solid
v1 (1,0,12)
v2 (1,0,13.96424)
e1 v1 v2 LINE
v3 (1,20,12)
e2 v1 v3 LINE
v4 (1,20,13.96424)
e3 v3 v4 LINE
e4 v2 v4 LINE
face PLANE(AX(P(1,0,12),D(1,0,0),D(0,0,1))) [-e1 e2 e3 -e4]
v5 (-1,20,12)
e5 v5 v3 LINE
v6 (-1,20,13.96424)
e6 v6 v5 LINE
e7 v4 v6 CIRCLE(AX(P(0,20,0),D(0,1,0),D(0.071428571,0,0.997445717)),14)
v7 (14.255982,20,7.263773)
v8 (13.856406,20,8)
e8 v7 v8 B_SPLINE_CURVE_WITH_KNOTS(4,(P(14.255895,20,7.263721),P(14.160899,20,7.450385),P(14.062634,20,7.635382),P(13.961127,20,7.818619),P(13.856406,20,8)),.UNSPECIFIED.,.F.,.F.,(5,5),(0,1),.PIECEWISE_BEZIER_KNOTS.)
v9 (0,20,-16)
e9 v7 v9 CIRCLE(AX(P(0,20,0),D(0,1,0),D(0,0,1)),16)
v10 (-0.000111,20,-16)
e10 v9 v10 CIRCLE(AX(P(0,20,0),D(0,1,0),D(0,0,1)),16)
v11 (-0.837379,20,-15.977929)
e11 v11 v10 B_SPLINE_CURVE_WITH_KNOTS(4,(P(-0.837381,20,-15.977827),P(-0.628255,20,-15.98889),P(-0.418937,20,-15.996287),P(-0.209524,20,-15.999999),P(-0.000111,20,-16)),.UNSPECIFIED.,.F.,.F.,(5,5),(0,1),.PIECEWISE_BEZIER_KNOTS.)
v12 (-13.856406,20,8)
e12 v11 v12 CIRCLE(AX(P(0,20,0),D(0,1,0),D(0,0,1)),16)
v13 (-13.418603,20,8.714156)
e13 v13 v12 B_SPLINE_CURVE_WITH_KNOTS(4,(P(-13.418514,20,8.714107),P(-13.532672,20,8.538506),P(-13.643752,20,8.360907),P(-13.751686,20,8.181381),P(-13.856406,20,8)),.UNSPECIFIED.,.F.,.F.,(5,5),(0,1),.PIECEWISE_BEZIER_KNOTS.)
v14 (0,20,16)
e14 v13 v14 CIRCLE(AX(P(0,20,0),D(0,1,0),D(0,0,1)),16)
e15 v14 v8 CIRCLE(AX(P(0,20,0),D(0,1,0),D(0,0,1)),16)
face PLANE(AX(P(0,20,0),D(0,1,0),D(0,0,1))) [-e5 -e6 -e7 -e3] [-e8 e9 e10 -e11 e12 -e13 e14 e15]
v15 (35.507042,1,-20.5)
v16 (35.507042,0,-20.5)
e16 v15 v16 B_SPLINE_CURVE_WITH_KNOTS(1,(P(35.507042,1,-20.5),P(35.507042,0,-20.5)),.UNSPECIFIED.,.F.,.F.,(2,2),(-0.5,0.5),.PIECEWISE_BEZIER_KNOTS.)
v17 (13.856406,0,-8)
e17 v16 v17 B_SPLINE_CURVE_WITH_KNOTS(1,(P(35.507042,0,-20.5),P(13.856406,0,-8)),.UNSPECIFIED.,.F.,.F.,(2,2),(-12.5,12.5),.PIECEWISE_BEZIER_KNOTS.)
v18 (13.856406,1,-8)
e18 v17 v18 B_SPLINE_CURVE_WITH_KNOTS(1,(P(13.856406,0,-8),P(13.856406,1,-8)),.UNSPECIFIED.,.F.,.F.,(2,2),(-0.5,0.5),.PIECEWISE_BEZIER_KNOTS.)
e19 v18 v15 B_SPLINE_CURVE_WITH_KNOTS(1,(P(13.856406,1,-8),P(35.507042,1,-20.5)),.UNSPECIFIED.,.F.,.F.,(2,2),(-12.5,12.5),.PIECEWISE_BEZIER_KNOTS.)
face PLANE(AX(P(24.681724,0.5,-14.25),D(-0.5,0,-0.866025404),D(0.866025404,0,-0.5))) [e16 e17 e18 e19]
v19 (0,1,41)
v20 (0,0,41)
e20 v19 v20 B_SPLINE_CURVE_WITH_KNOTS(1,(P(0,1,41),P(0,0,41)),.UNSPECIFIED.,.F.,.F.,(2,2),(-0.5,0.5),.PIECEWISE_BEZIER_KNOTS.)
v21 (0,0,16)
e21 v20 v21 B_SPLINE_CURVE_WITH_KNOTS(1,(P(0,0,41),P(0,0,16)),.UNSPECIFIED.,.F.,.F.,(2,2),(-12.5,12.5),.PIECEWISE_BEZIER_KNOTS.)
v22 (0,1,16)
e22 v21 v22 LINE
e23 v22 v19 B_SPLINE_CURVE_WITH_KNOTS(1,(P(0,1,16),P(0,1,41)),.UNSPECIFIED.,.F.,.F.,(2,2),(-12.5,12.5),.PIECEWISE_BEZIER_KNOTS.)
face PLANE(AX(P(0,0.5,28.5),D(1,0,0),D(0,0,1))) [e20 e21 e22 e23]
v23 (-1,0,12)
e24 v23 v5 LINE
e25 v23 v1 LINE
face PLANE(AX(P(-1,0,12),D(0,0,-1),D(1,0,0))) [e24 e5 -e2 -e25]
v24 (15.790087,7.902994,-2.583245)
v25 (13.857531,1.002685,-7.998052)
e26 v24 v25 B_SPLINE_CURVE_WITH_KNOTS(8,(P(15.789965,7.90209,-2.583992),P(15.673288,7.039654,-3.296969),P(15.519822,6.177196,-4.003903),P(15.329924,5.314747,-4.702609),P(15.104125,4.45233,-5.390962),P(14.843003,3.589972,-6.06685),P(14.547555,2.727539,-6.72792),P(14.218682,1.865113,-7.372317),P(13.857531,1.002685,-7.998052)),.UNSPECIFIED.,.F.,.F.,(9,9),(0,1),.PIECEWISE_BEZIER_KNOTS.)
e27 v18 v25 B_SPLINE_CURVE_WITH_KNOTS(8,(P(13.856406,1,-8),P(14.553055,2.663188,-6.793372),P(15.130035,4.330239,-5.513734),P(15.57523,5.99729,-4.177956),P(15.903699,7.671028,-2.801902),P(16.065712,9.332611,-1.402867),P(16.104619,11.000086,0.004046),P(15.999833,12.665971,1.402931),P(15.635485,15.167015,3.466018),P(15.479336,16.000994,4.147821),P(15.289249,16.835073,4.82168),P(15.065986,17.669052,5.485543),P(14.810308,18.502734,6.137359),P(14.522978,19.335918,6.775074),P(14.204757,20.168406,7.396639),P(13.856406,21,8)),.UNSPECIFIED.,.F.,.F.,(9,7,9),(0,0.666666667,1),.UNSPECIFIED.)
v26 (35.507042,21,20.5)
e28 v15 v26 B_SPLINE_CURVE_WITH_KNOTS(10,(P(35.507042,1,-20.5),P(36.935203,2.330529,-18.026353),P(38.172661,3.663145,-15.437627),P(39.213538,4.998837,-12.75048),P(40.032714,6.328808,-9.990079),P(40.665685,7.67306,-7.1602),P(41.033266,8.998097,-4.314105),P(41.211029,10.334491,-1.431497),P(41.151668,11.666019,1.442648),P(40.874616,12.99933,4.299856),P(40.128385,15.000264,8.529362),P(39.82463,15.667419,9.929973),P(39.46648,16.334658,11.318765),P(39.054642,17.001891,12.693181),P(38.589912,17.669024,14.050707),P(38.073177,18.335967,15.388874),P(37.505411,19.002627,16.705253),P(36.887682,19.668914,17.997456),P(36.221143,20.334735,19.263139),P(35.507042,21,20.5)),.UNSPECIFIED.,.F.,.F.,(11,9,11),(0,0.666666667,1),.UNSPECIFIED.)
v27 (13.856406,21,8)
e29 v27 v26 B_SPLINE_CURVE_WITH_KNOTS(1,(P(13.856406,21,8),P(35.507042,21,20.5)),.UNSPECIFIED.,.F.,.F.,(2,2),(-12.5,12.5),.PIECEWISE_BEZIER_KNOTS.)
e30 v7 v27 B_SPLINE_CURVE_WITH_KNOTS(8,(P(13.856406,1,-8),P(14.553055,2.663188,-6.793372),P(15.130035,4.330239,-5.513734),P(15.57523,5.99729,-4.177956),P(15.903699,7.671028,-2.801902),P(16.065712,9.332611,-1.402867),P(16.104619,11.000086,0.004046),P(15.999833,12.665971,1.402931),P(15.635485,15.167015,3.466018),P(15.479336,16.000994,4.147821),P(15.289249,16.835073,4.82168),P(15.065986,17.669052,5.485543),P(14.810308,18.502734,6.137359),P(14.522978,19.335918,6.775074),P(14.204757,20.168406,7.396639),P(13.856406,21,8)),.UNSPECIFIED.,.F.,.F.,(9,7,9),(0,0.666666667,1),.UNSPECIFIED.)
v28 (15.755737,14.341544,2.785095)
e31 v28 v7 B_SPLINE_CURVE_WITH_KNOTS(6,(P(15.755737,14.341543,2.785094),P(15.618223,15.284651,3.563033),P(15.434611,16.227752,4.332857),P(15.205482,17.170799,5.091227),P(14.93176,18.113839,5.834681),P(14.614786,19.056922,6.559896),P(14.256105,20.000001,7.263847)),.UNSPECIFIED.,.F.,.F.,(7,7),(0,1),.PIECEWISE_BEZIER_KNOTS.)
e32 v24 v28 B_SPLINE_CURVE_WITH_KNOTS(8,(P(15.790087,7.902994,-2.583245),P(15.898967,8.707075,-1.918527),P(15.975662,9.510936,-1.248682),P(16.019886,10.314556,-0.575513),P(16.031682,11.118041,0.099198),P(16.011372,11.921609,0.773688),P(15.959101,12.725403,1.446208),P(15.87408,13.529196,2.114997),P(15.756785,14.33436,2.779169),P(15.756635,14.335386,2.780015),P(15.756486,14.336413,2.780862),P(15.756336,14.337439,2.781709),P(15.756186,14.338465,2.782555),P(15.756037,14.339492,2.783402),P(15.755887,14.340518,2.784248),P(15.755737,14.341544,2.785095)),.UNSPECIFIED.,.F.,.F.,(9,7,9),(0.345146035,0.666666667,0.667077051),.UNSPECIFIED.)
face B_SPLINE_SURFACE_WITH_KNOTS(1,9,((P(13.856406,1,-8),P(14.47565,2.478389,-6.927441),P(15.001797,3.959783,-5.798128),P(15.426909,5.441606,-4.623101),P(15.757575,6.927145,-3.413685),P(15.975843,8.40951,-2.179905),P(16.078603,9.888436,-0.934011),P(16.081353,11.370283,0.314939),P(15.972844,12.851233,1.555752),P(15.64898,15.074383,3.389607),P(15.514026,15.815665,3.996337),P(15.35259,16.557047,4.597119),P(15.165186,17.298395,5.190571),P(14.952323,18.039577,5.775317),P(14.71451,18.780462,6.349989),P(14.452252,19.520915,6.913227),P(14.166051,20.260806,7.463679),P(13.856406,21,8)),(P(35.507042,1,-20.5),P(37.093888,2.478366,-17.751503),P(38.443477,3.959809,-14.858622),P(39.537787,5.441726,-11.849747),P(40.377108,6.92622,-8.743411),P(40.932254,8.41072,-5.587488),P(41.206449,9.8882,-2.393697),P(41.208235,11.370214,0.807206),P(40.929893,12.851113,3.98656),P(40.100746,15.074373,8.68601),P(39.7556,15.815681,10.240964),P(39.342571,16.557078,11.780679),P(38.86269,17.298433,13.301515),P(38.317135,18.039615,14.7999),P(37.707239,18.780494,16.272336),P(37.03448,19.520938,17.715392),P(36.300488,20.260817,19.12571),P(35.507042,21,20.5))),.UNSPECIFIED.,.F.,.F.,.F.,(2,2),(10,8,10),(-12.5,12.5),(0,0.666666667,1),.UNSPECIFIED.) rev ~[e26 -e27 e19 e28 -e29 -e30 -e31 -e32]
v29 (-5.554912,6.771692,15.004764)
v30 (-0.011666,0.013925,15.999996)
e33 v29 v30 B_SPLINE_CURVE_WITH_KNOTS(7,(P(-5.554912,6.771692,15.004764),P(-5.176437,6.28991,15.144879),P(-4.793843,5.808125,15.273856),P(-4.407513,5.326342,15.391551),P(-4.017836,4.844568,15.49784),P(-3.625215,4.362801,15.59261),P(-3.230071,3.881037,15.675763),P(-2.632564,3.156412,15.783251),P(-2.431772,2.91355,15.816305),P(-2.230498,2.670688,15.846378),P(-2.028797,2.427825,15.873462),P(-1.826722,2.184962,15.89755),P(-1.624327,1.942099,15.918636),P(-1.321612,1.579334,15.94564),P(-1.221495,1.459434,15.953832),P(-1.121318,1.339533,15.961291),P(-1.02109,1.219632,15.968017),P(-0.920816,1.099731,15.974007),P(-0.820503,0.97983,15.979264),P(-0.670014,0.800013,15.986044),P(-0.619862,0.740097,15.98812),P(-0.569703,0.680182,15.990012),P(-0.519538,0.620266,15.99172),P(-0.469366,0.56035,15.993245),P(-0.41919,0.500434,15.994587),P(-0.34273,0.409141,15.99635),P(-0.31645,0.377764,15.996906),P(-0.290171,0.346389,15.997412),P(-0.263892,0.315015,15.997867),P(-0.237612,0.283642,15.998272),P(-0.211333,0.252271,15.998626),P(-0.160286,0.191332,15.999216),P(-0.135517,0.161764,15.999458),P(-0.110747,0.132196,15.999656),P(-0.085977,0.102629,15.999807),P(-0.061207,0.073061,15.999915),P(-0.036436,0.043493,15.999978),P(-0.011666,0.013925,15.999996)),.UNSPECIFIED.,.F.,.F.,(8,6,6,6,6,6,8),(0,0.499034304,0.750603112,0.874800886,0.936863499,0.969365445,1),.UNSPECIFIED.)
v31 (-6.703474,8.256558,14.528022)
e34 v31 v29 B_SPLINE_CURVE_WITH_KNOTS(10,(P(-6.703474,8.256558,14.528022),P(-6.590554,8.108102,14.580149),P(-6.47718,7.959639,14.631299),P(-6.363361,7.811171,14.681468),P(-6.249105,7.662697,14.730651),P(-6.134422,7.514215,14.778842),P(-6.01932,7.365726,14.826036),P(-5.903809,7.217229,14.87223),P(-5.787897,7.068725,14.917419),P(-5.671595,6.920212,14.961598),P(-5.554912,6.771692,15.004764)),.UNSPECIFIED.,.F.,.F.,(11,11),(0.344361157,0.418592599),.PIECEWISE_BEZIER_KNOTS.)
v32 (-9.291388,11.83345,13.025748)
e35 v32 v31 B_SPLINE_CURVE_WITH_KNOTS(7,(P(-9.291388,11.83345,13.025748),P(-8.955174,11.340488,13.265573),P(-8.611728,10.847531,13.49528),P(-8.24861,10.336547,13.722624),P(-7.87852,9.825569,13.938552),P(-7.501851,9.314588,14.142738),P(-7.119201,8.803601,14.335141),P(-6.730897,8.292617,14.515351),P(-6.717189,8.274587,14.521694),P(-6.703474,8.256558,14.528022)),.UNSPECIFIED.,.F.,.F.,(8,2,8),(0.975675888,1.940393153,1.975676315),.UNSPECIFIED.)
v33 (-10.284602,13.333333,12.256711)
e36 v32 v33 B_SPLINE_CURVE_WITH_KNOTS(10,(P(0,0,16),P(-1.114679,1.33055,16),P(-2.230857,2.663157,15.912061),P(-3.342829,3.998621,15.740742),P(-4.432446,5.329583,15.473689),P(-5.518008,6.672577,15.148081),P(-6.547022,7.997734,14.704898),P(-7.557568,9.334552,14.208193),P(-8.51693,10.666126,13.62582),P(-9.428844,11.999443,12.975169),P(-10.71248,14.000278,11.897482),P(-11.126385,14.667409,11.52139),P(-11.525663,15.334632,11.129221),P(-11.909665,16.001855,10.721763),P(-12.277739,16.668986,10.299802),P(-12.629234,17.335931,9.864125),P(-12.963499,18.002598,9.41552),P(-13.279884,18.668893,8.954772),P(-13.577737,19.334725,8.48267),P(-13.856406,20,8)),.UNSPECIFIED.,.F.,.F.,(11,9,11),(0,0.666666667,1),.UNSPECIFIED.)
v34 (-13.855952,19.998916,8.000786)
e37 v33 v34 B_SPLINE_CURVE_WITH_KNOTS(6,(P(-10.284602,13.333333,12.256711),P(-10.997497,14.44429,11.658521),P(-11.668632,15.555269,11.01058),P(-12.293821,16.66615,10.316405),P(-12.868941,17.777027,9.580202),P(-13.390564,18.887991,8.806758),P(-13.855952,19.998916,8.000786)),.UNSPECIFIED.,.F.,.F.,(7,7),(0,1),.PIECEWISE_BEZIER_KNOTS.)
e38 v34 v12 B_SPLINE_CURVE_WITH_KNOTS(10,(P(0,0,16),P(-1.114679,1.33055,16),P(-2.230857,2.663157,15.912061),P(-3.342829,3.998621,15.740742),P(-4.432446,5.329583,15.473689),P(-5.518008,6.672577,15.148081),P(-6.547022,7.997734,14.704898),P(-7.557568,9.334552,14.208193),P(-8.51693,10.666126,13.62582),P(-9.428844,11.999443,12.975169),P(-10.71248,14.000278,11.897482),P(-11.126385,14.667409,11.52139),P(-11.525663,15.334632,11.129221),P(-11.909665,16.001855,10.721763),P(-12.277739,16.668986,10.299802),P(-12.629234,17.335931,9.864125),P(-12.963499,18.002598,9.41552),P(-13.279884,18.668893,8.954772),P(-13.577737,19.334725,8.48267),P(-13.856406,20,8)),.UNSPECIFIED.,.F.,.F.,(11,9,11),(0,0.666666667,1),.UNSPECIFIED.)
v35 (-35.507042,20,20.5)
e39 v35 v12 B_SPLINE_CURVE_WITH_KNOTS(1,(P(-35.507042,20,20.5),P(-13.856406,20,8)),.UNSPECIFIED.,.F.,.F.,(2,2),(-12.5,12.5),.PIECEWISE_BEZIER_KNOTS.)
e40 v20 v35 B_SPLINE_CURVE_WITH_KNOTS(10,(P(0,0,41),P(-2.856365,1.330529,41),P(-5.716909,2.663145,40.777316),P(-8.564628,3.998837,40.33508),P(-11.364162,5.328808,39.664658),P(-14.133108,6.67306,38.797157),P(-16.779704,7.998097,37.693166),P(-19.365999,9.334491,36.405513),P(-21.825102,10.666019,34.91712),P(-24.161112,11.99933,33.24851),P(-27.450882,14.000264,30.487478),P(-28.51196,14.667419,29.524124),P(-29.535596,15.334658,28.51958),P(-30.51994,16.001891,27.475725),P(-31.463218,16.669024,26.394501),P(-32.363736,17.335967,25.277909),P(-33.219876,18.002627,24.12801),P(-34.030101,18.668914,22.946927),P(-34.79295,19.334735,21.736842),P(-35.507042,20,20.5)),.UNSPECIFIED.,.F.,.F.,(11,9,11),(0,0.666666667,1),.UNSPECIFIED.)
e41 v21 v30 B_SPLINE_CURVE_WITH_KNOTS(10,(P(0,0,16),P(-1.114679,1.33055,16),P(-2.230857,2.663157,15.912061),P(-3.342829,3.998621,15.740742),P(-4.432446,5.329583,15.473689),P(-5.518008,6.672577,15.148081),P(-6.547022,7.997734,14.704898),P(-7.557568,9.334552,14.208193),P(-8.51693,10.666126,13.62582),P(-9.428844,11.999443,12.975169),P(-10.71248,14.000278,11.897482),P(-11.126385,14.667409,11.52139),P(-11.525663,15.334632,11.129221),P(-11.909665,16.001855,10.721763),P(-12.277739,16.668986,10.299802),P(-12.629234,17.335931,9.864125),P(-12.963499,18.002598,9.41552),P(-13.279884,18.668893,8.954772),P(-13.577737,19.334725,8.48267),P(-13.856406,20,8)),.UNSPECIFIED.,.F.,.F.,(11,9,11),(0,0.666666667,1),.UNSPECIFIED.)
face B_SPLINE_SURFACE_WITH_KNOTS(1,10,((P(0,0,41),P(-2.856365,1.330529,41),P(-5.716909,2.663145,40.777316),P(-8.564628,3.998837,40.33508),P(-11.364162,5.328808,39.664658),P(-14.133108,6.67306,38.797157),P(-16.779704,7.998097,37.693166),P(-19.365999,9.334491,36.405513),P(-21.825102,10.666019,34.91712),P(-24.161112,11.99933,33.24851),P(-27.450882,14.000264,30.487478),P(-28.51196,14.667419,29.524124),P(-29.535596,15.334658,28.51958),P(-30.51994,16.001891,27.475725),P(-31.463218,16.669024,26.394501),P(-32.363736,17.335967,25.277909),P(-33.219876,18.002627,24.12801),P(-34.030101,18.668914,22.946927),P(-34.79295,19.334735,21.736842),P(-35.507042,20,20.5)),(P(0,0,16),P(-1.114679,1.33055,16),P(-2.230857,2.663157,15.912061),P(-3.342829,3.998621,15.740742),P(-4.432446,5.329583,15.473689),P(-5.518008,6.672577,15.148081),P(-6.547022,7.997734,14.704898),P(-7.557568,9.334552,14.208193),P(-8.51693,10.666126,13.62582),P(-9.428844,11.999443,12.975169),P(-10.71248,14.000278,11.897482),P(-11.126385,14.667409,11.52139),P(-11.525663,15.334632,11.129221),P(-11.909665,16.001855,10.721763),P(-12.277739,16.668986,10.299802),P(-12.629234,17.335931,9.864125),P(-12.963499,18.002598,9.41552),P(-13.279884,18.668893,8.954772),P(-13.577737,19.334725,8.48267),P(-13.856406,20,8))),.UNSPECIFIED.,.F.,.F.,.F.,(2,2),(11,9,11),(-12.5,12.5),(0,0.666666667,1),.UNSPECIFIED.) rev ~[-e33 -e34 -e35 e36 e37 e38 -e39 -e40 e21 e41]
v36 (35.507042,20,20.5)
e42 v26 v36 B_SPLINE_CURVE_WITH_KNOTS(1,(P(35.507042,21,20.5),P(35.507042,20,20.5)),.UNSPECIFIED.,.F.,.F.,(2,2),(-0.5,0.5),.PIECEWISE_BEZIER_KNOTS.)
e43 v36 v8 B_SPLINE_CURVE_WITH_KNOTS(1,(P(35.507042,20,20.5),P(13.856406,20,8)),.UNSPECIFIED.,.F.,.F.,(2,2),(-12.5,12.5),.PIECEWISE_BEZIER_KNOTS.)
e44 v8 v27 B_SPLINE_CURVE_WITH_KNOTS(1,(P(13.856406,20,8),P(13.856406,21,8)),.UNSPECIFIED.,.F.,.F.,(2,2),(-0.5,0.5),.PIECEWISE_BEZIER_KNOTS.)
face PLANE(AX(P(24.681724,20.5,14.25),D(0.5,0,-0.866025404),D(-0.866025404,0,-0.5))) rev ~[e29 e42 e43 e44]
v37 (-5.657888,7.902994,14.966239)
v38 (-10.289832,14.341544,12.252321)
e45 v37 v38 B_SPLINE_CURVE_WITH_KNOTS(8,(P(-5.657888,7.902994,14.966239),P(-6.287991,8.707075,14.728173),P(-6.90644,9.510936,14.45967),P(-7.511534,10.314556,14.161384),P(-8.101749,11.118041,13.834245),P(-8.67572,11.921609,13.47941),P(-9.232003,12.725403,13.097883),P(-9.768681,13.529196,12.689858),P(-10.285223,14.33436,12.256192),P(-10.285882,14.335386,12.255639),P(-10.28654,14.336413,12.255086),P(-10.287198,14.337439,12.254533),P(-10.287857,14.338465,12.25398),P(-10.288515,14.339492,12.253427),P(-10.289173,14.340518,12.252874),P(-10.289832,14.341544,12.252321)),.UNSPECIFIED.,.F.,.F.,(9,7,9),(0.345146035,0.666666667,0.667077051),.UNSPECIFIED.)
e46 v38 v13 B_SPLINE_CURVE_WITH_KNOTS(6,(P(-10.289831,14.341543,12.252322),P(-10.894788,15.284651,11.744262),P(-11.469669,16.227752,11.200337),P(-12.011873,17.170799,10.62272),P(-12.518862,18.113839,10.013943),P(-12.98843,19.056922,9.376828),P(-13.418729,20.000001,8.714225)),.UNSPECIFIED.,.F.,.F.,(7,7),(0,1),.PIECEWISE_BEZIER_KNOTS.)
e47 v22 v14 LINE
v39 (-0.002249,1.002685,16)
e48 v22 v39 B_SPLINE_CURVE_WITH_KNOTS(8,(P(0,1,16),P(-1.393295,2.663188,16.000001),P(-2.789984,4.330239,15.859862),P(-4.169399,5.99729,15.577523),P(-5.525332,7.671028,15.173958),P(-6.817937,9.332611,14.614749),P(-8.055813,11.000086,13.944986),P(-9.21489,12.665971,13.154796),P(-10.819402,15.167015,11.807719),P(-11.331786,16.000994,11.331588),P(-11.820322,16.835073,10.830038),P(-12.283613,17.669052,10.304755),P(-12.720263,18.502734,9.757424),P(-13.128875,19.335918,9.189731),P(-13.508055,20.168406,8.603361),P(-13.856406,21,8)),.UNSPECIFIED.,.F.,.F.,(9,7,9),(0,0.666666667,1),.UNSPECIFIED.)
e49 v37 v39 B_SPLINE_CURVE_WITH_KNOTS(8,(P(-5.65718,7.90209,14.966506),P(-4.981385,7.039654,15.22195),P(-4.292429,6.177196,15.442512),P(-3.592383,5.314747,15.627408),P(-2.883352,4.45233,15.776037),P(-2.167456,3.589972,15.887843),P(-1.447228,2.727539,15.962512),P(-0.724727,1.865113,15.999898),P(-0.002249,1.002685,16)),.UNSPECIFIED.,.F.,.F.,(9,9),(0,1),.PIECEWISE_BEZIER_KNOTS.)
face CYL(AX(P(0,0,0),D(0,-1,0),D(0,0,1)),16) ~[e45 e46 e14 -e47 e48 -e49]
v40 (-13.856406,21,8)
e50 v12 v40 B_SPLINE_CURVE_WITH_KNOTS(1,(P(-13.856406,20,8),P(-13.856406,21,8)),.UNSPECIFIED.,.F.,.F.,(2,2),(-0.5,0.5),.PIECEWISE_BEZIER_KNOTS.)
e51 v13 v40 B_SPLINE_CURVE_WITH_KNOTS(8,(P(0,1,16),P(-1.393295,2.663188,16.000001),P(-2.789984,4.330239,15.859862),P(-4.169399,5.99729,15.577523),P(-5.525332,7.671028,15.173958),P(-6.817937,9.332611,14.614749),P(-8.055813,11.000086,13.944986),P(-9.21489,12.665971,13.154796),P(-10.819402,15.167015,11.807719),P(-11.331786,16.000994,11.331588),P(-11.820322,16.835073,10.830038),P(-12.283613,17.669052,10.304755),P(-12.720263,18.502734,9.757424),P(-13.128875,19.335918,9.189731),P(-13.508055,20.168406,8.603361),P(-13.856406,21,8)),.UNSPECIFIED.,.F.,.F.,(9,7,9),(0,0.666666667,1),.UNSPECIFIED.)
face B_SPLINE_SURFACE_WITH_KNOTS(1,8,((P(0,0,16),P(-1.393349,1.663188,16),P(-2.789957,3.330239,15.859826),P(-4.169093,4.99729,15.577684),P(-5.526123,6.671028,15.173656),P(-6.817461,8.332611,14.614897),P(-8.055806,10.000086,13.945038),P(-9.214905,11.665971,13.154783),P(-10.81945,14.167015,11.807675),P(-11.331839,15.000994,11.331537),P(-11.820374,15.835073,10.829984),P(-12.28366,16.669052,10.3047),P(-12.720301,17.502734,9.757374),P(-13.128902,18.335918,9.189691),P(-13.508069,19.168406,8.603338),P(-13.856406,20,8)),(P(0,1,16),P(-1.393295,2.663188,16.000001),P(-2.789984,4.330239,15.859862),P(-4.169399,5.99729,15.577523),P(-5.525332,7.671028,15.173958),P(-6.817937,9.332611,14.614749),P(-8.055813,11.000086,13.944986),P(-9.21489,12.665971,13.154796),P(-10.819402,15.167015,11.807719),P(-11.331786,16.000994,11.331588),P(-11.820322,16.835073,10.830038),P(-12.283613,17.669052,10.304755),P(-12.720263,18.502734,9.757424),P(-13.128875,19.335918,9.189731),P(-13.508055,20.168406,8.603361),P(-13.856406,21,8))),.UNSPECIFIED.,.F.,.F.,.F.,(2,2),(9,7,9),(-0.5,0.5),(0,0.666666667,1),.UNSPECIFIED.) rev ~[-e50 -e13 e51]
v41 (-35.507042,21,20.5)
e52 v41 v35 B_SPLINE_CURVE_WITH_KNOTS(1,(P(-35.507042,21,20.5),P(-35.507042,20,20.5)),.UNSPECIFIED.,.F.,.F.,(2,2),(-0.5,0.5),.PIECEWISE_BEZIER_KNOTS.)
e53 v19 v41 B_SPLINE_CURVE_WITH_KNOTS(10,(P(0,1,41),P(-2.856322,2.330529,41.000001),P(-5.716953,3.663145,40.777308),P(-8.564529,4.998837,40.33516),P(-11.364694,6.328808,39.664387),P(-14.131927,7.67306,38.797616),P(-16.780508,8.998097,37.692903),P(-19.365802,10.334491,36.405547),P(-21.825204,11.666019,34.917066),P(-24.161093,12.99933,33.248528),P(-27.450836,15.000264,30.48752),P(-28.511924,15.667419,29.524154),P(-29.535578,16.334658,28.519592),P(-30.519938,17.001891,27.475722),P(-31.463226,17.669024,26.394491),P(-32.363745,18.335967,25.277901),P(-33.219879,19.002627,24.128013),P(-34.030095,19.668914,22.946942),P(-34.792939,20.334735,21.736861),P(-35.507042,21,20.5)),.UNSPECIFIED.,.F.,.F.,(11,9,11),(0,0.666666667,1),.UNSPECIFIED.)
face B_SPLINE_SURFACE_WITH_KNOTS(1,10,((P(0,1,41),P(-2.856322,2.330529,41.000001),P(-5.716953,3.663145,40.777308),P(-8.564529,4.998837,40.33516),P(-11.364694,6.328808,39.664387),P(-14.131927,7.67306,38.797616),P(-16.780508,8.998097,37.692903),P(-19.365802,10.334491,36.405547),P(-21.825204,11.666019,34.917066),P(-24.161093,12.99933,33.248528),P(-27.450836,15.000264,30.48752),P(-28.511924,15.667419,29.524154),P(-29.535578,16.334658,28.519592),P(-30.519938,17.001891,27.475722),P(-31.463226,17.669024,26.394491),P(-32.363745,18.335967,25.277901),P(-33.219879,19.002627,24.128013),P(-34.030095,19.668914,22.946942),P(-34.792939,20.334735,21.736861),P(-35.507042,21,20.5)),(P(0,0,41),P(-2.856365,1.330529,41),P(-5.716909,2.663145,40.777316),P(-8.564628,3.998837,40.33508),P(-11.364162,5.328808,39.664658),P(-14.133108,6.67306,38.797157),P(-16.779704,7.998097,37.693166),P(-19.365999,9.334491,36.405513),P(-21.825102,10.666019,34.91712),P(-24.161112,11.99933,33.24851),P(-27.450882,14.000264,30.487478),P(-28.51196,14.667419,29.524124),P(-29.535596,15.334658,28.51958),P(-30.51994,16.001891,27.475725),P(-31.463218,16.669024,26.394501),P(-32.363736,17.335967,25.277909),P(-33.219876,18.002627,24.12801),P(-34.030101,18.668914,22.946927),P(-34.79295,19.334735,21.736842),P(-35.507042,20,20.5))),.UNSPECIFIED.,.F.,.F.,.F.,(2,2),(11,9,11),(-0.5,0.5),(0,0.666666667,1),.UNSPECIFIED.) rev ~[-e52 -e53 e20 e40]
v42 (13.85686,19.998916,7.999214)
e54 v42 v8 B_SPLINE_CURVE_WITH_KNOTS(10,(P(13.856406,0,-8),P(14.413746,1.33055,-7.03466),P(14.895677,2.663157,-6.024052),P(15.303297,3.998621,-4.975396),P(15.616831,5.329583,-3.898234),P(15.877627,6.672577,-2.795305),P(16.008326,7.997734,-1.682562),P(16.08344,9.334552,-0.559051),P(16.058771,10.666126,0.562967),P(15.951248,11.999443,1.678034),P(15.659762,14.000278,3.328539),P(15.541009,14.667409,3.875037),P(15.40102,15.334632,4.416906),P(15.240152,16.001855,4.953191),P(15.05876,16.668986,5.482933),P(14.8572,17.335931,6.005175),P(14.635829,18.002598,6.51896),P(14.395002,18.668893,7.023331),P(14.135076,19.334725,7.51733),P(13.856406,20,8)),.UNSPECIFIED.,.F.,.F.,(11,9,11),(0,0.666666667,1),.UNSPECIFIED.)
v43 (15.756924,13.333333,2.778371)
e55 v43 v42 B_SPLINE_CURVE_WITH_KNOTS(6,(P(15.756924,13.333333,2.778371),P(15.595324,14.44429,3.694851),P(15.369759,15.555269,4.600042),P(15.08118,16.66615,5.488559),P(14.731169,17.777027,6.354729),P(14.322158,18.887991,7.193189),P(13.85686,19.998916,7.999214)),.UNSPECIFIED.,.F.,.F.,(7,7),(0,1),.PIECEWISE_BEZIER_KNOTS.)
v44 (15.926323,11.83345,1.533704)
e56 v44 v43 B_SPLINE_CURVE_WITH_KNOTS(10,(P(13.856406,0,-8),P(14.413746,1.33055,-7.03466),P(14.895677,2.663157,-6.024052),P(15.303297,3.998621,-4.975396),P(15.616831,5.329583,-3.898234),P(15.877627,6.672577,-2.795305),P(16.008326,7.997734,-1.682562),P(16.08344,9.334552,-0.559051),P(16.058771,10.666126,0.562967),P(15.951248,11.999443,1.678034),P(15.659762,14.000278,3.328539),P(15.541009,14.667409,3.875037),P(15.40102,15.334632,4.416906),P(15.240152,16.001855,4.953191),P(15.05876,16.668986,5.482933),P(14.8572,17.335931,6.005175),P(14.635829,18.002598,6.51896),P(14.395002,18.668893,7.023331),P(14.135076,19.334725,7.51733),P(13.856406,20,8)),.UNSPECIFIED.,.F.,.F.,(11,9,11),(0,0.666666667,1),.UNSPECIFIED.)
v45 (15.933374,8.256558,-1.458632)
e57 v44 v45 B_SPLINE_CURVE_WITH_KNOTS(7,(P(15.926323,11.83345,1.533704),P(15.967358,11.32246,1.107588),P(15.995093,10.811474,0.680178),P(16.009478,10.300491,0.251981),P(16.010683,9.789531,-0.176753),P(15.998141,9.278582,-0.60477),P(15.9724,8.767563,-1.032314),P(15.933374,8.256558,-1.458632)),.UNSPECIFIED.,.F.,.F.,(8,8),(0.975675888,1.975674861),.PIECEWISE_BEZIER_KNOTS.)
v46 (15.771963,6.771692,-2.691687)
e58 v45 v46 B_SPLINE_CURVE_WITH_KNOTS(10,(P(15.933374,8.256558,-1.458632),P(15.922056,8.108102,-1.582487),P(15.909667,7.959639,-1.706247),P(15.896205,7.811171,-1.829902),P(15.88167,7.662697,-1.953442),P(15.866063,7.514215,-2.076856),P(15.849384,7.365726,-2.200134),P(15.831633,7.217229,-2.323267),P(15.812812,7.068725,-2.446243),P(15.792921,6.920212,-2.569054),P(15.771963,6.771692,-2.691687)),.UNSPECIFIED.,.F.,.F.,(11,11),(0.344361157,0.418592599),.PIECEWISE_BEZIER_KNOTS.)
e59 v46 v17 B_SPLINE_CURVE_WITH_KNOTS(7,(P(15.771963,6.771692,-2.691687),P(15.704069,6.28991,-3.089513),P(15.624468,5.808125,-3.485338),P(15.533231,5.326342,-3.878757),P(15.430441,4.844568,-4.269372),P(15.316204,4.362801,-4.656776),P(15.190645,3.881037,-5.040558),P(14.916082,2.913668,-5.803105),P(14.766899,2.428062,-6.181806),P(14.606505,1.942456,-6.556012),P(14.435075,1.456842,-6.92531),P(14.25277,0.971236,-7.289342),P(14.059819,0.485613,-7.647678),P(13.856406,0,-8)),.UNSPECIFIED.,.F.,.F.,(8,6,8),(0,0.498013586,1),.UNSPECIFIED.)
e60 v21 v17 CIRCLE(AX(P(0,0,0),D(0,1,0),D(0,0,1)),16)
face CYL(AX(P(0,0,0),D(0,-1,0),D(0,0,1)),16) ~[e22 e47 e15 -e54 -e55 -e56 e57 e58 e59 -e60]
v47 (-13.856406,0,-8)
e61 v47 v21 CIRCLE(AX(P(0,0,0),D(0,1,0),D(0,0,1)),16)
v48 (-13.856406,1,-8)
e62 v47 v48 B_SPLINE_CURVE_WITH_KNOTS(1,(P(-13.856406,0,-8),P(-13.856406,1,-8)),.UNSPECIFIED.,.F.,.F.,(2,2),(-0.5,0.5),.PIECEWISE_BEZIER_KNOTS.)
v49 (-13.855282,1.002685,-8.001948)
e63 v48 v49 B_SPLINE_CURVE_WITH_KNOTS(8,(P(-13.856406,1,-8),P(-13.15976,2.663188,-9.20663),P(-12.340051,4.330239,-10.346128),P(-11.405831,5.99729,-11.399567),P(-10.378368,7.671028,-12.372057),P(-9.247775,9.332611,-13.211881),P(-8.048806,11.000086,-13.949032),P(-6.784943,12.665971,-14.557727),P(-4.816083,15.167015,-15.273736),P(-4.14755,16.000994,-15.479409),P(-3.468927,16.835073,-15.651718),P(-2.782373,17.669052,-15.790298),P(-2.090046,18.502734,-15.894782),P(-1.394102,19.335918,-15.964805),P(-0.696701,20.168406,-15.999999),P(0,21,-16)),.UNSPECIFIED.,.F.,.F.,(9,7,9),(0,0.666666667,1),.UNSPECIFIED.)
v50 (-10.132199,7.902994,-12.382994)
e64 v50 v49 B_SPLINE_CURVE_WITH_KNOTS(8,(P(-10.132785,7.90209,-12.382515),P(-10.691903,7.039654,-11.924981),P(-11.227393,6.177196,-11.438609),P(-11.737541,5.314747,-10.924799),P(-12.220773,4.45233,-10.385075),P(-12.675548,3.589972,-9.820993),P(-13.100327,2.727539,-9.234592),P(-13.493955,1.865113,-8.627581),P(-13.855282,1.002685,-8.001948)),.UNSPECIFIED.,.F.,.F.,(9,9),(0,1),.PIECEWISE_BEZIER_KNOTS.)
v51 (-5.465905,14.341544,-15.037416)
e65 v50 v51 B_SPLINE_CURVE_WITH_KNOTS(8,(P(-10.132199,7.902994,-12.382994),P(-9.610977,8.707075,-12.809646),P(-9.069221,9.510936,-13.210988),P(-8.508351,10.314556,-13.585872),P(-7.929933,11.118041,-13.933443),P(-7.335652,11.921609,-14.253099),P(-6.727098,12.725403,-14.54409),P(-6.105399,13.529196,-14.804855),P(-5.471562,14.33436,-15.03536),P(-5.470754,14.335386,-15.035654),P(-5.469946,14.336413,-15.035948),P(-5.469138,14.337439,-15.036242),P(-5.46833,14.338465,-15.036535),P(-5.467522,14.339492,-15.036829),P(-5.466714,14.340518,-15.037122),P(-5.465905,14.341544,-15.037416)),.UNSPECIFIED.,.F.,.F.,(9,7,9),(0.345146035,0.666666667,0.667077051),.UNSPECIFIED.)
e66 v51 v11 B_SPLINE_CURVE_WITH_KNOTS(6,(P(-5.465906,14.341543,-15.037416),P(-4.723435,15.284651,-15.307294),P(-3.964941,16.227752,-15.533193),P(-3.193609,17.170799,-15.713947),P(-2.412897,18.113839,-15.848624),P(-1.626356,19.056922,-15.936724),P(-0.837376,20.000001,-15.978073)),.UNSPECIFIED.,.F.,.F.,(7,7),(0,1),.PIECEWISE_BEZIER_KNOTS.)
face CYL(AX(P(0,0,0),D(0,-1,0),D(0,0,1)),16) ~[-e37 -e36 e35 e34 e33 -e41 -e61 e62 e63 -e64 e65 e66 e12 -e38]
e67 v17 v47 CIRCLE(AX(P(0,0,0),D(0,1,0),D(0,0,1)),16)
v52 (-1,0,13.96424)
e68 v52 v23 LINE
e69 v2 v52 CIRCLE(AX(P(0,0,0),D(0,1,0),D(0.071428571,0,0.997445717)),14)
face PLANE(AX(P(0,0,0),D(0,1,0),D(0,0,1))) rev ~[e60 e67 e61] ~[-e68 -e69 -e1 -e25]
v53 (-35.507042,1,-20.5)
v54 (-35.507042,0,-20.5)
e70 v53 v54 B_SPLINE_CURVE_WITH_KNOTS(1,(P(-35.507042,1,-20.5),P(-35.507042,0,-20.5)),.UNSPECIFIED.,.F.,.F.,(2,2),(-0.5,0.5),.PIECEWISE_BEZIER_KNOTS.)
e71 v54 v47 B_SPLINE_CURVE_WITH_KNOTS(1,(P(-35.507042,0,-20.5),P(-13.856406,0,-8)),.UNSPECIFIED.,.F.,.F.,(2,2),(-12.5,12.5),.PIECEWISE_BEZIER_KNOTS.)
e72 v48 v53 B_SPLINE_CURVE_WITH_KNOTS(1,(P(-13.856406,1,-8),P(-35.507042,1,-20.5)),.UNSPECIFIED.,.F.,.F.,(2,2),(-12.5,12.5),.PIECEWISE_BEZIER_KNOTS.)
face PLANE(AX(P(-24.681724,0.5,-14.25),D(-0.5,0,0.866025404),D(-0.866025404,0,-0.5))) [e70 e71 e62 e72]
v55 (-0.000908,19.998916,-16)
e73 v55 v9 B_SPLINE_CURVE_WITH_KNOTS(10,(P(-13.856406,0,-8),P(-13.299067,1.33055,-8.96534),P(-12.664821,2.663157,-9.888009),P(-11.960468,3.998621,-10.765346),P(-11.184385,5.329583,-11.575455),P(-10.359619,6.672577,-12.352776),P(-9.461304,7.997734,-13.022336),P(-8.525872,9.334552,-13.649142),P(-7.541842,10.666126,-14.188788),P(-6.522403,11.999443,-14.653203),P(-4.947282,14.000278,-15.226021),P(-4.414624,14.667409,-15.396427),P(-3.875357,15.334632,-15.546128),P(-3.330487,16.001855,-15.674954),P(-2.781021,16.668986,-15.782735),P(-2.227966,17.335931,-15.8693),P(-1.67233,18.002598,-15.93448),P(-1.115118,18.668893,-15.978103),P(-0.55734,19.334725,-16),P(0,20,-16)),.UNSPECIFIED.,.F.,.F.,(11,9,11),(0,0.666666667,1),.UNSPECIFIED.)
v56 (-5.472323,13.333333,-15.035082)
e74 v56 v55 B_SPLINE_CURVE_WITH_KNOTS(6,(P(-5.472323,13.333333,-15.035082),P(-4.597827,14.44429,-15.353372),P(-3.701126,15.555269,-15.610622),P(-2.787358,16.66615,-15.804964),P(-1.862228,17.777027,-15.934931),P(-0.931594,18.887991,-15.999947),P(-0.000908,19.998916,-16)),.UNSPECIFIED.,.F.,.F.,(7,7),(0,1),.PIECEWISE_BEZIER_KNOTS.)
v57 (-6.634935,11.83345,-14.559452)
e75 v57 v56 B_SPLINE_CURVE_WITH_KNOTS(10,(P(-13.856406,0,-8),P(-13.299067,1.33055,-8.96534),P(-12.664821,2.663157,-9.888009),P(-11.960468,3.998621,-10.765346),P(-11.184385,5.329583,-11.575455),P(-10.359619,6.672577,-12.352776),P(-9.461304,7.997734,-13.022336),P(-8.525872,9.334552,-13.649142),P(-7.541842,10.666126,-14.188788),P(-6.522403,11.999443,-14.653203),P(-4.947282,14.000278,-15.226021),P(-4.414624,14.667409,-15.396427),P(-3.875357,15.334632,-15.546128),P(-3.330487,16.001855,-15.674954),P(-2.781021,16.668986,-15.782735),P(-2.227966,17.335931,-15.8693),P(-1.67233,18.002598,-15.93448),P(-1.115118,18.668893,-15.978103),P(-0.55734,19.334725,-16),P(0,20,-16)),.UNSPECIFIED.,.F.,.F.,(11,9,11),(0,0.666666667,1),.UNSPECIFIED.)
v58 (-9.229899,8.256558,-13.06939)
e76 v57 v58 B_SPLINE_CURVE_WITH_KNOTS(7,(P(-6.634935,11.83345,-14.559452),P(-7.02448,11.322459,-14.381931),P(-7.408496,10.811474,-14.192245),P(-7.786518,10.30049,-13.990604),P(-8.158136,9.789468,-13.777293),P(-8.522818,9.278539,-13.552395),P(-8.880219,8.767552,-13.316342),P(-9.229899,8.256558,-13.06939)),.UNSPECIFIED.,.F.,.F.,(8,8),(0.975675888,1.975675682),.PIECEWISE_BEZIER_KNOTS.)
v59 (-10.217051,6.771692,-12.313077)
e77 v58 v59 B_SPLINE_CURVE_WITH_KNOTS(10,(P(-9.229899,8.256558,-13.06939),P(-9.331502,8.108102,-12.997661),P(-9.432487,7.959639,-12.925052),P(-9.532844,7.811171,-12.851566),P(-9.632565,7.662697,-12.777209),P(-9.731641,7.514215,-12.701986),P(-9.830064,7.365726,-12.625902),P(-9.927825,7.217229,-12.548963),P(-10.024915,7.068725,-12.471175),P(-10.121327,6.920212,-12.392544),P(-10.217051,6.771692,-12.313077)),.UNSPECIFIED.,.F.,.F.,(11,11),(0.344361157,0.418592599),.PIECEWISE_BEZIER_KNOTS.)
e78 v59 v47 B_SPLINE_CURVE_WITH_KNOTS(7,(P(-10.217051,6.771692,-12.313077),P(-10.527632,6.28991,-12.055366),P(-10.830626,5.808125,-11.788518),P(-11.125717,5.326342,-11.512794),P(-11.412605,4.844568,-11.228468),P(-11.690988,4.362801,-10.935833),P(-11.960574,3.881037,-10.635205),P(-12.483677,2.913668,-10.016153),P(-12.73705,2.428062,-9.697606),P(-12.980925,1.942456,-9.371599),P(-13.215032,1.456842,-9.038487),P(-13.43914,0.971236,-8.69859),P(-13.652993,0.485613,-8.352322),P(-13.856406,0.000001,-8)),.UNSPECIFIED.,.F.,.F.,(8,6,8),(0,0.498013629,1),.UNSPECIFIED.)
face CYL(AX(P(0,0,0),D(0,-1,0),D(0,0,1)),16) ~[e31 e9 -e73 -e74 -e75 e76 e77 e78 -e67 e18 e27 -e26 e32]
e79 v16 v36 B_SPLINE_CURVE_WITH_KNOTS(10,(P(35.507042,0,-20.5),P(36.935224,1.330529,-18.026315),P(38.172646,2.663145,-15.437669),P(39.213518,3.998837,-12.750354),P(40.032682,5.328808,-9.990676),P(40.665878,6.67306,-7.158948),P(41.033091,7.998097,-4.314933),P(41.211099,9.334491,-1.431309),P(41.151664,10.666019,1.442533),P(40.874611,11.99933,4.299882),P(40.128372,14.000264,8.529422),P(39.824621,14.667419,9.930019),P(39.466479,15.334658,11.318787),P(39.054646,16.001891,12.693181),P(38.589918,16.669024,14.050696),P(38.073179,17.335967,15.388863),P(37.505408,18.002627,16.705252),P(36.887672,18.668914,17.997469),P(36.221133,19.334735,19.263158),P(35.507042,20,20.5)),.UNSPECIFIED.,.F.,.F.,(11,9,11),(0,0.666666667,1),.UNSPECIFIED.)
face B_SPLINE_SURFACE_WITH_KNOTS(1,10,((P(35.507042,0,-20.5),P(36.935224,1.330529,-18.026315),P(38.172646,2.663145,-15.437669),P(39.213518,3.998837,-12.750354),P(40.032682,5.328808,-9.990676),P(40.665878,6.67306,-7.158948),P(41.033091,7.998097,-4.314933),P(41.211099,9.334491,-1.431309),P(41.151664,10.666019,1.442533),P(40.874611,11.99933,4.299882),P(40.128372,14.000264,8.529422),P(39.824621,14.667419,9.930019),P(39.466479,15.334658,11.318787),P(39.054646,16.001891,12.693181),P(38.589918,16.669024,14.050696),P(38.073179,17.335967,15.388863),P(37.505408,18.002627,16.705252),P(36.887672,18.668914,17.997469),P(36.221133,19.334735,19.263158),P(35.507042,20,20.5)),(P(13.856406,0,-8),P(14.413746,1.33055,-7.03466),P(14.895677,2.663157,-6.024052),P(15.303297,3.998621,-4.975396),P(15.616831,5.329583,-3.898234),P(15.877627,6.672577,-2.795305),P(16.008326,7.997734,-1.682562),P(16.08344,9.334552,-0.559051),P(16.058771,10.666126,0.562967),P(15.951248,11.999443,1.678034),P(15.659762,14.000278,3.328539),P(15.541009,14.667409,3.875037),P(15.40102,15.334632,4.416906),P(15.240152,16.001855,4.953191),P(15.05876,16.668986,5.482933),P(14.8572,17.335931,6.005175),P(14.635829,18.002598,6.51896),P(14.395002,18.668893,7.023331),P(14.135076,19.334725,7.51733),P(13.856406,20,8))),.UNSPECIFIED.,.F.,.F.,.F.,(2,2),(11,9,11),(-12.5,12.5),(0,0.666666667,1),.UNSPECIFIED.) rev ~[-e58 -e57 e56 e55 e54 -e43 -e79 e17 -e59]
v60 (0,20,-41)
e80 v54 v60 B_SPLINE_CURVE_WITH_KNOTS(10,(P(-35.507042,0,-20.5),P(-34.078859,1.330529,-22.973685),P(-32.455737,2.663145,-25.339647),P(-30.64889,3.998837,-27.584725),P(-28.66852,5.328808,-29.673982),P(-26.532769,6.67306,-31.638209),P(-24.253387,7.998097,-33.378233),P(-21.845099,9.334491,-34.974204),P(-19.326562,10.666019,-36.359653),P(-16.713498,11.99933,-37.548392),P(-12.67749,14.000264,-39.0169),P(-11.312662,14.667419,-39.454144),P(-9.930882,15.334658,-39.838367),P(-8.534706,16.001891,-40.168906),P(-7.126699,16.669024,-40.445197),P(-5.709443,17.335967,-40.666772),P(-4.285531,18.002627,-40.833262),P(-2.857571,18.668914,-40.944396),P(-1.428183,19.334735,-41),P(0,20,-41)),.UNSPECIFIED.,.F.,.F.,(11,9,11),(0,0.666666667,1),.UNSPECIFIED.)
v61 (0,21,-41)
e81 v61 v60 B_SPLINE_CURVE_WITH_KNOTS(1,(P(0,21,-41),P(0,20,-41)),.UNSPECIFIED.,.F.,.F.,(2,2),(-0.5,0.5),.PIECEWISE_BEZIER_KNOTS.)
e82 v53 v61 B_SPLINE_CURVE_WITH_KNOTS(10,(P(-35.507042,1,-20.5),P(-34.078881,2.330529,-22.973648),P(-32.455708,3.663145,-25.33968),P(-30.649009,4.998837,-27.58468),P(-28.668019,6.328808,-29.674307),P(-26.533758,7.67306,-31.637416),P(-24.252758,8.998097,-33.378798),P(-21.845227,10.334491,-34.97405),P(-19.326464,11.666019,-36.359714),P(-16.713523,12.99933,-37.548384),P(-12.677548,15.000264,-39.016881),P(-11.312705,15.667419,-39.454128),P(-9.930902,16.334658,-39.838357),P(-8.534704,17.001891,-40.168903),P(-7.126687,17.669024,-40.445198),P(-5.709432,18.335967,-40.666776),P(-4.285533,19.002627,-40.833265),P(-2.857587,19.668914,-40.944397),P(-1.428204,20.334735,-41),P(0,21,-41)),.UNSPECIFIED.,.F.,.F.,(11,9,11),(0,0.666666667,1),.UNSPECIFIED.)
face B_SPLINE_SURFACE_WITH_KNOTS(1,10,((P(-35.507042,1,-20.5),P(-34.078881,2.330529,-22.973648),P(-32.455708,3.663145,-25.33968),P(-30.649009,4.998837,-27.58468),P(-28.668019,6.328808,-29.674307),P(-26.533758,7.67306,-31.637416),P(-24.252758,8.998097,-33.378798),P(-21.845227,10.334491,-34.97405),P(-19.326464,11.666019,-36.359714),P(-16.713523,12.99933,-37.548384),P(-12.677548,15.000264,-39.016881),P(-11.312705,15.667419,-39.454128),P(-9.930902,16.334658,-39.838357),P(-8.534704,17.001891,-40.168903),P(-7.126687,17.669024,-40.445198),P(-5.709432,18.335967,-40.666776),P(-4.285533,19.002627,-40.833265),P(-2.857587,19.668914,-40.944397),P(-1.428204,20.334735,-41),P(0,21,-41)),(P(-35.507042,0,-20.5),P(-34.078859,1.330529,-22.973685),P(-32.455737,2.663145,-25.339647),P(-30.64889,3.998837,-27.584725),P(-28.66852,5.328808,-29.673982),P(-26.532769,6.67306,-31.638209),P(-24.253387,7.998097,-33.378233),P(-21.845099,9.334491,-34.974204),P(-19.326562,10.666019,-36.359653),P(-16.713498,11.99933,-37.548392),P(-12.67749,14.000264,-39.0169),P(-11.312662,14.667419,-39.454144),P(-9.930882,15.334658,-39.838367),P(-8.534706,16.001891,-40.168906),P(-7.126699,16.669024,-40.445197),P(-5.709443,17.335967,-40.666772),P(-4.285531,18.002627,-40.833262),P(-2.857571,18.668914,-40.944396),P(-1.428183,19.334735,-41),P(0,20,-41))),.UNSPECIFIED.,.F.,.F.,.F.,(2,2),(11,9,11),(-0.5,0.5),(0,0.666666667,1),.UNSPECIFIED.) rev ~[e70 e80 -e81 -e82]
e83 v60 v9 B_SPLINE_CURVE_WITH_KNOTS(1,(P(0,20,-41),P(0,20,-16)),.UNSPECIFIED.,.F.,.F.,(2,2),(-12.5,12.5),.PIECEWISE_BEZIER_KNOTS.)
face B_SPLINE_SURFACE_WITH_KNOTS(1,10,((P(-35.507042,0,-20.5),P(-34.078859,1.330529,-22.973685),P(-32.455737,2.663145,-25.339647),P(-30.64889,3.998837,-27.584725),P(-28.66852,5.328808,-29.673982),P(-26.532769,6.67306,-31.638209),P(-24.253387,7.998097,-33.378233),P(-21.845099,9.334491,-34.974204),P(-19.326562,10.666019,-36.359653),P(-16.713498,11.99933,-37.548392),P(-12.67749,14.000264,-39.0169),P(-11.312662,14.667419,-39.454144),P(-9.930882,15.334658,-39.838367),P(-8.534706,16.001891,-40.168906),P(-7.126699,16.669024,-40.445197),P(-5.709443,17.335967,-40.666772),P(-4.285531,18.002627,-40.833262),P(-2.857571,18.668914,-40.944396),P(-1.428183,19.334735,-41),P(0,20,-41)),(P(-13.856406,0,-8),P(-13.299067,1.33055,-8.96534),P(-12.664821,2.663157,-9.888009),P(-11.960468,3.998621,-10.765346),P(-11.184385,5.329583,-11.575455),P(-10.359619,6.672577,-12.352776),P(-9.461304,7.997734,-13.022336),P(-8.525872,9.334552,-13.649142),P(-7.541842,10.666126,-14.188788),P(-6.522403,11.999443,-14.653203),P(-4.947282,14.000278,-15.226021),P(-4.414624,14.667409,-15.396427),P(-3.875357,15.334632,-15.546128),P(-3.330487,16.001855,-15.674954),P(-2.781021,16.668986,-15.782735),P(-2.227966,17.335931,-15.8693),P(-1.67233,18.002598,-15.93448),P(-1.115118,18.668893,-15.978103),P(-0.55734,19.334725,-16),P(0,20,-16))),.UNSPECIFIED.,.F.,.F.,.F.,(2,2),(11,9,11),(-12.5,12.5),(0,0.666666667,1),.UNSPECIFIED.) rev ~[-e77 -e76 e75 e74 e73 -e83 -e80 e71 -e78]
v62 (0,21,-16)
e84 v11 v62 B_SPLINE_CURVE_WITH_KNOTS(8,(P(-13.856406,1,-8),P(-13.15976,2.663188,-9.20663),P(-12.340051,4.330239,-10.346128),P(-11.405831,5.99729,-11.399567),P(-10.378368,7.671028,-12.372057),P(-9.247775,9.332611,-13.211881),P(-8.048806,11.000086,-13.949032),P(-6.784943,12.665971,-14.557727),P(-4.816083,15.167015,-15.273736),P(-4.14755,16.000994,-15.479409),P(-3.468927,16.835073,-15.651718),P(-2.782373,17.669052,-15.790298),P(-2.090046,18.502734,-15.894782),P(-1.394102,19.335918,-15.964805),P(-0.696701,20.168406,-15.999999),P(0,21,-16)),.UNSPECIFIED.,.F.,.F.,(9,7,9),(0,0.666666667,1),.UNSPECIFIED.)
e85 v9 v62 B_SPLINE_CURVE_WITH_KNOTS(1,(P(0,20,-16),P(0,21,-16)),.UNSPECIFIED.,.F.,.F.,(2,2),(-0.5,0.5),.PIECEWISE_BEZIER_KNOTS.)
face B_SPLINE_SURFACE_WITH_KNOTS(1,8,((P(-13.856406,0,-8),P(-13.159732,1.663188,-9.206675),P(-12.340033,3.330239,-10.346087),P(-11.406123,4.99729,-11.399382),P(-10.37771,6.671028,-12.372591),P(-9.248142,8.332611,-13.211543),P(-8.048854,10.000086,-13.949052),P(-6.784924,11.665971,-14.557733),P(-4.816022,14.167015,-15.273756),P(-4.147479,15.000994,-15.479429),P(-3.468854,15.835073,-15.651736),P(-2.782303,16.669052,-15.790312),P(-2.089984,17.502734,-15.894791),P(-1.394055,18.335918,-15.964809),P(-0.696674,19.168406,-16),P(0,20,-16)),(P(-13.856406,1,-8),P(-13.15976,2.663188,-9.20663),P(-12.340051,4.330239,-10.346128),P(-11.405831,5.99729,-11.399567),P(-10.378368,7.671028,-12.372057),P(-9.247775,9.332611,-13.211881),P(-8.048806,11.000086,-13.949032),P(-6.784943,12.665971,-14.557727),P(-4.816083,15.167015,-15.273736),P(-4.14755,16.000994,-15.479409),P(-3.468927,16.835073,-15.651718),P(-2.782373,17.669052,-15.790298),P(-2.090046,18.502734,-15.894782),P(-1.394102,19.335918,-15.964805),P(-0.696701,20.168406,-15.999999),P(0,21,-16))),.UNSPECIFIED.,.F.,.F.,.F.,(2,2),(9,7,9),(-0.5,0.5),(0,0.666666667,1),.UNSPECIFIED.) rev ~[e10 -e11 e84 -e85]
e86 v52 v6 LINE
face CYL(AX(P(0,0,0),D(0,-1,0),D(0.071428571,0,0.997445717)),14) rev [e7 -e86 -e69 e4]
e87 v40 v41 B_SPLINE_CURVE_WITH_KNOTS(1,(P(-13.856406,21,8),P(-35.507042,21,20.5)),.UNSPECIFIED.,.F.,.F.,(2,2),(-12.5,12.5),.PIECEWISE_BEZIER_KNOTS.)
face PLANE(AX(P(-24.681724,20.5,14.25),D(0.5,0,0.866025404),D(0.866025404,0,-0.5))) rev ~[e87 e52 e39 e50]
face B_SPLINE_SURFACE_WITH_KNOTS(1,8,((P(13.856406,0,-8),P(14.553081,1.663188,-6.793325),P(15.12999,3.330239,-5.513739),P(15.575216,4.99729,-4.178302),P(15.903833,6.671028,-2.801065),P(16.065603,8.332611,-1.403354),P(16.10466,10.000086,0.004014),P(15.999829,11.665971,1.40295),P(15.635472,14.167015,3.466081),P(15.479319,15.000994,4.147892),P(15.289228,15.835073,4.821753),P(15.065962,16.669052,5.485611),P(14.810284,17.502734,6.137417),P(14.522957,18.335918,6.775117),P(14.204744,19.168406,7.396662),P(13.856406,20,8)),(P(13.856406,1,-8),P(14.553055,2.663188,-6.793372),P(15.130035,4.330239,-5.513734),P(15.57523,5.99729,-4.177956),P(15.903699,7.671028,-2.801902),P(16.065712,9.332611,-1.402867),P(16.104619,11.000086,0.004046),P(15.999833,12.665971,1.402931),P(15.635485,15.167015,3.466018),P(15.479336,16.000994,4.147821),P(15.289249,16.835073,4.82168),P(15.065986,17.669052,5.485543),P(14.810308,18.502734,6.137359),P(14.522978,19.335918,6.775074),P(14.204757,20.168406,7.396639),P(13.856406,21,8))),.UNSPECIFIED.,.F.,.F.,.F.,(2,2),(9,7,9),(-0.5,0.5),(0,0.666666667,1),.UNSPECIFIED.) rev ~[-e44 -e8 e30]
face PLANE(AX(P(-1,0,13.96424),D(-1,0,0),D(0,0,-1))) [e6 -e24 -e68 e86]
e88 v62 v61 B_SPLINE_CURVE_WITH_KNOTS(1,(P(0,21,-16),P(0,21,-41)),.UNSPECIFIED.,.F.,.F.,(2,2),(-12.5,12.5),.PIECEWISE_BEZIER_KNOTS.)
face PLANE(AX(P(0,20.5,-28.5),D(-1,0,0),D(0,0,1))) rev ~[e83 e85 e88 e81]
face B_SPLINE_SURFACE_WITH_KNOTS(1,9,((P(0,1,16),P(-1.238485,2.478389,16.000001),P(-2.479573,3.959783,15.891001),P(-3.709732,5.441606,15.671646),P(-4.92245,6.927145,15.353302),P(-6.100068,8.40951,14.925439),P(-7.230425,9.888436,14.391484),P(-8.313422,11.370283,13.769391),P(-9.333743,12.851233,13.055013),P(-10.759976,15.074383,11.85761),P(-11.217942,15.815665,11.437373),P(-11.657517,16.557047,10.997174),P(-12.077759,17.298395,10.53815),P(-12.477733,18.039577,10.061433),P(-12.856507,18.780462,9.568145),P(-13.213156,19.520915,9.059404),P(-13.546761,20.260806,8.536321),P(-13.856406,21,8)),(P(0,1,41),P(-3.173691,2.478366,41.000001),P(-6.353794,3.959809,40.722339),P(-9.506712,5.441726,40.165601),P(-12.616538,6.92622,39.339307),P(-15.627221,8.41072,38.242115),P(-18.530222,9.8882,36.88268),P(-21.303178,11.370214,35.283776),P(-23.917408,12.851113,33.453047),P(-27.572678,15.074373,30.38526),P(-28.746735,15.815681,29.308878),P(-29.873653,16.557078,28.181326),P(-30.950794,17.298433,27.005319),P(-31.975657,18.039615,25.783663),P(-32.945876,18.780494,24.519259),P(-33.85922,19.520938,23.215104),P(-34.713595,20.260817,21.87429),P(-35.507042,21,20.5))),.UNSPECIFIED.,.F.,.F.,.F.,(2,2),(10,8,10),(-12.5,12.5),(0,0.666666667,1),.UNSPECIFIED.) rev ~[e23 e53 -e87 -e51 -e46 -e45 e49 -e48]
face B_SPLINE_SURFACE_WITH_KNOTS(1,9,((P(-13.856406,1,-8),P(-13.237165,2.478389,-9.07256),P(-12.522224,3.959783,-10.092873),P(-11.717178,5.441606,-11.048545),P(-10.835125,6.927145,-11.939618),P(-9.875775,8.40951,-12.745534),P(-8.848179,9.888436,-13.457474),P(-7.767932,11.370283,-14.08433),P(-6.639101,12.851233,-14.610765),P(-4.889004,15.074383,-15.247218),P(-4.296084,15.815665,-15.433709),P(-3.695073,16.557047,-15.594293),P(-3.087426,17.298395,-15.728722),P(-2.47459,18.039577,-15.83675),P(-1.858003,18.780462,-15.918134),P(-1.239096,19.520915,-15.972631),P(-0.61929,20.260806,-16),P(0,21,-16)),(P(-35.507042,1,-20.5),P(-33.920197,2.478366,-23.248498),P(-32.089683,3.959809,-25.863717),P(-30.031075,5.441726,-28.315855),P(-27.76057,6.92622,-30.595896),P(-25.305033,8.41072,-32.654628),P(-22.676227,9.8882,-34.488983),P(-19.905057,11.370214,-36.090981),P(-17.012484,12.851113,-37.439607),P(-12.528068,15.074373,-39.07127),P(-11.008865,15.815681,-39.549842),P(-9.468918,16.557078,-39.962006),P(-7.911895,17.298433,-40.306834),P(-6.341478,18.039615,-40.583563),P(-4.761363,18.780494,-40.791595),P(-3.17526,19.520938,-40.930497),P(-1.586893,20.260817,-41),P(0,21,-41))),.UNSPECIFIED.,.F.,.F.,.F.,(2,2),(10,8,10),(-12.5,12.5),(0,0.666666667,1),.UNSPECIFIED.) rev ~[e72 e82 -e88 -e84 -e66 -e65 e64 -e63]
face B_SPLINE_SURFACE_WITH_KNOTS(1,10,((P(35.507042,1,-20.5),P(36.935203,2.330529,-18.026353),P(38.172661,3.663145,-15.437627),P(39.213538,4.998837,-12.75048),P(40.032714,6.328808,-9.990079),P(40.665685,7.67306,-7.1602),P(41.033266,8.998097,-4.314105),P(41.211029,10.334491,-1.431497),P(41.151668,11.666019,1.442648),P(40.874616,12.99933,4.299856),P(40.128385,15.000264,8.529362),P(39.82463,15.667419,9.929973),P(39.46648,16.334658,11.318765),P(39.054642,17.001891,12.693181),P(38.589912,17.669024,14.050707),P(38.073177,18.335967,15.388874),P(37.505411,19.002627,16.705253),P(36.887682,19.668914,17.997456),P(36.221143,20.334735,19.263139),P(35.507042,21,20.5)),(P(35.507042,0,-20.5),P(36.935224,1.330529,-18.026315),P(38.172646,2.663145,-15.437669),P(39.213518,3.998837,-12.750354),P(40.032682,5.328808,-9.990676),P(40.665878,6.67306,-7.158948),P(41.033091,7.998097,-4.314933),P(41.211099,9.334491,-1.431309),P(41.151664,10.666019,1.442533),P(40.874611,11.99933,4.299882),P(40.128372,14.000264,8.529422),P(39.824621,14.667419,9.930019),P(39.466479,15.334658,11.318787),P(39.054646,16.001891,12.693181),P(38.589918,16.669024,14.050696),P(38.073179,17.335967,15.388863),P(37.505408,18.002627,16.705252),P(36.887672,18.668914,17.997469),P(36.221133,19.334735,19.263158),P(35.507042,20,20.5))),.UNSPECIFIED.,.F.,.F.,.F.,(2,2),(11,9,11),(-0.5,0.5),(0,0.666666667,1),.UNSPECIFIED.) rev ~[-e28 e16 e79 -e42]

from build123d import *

# Parameters (mm, degrees)
SKETCH1_R           = 16
BOSS_EXTRUDE1_DEPTH = 20
SKETCH3_W           = 25
SKETCH3_H           = 1
CIRPATTERN1_COUNT   = 3


with BuildPart() as part:
    # Sketch1 → Boss-Extrude1 (new body)
    with BuildSketch(Plane(origin=(0, 0, 0), x_dir=(1, 0, 0), z_dir=(0, 1, 0))):
        with Locations(Location((0, 0, 0), (0, 0, 270))):
            Circle(SKETCH1_R)
        with BuildLine():
            Line((-1, -12), (1, -12))
            Line((1, -12), (1, -13.964240044))
            ThreePointArc((1, -13.964240044), (0, 14), (-1, -13.964240044))
            Line((-1, -13.964240044), (-1, -12))
        make_face(mode=Mode.SUBTRACT)
    extrude(amount=BOSS_EXTRUDE1_DEPTH)

    # Sweep1: sweep along a curve in space
    with BuildLine() as sweep1_path:
        add(Edge.make_bspline(
            [(0, 0, 16), (-1.857798397, 2.217583486, 16), (-5.586575728, 6.669449908, 15.343093774), (-10.494221117, 13.330550092, 12.509663387), (-12.927507262, 17.782416514, 9.608900607), (-13.856406461, 20, 8)],
            knots=[0, 0, 0, 0, 0.333333333, 0.666666667, 1, 1, 1, 1], degree=3))
    with BuildLine() as sweep1_axis:
        Line((0, 0, 0), (0, 20, 0))
    # Sketch3 → Sweep1 (sweep)
    with BuildSketch(Plane(origin=(0, 0, 0), x_dir=(0, 0, -1), z_dir=(1, 0, 0))):
        with Locations((-28.5, 0.5)):
            Rectangle(SKETCH3_W, SKETCH3_H)
    sweep1 = sweep(path=sweep1_path.line, binormal=sweep1_axis.edges()[0])

    # CirPattern1: Sweep1 ×3 about axis
    cirpattern1_axis = Axis((0, -1.105625, 0), (0, 1, 0))
    for i in range(1, CIRPATTERN1_COUNT):
        add(sweep1.rotate(cirpattern1_axis, i * 360 / CIRPATTERN1_COUNT))


solid = part.part
